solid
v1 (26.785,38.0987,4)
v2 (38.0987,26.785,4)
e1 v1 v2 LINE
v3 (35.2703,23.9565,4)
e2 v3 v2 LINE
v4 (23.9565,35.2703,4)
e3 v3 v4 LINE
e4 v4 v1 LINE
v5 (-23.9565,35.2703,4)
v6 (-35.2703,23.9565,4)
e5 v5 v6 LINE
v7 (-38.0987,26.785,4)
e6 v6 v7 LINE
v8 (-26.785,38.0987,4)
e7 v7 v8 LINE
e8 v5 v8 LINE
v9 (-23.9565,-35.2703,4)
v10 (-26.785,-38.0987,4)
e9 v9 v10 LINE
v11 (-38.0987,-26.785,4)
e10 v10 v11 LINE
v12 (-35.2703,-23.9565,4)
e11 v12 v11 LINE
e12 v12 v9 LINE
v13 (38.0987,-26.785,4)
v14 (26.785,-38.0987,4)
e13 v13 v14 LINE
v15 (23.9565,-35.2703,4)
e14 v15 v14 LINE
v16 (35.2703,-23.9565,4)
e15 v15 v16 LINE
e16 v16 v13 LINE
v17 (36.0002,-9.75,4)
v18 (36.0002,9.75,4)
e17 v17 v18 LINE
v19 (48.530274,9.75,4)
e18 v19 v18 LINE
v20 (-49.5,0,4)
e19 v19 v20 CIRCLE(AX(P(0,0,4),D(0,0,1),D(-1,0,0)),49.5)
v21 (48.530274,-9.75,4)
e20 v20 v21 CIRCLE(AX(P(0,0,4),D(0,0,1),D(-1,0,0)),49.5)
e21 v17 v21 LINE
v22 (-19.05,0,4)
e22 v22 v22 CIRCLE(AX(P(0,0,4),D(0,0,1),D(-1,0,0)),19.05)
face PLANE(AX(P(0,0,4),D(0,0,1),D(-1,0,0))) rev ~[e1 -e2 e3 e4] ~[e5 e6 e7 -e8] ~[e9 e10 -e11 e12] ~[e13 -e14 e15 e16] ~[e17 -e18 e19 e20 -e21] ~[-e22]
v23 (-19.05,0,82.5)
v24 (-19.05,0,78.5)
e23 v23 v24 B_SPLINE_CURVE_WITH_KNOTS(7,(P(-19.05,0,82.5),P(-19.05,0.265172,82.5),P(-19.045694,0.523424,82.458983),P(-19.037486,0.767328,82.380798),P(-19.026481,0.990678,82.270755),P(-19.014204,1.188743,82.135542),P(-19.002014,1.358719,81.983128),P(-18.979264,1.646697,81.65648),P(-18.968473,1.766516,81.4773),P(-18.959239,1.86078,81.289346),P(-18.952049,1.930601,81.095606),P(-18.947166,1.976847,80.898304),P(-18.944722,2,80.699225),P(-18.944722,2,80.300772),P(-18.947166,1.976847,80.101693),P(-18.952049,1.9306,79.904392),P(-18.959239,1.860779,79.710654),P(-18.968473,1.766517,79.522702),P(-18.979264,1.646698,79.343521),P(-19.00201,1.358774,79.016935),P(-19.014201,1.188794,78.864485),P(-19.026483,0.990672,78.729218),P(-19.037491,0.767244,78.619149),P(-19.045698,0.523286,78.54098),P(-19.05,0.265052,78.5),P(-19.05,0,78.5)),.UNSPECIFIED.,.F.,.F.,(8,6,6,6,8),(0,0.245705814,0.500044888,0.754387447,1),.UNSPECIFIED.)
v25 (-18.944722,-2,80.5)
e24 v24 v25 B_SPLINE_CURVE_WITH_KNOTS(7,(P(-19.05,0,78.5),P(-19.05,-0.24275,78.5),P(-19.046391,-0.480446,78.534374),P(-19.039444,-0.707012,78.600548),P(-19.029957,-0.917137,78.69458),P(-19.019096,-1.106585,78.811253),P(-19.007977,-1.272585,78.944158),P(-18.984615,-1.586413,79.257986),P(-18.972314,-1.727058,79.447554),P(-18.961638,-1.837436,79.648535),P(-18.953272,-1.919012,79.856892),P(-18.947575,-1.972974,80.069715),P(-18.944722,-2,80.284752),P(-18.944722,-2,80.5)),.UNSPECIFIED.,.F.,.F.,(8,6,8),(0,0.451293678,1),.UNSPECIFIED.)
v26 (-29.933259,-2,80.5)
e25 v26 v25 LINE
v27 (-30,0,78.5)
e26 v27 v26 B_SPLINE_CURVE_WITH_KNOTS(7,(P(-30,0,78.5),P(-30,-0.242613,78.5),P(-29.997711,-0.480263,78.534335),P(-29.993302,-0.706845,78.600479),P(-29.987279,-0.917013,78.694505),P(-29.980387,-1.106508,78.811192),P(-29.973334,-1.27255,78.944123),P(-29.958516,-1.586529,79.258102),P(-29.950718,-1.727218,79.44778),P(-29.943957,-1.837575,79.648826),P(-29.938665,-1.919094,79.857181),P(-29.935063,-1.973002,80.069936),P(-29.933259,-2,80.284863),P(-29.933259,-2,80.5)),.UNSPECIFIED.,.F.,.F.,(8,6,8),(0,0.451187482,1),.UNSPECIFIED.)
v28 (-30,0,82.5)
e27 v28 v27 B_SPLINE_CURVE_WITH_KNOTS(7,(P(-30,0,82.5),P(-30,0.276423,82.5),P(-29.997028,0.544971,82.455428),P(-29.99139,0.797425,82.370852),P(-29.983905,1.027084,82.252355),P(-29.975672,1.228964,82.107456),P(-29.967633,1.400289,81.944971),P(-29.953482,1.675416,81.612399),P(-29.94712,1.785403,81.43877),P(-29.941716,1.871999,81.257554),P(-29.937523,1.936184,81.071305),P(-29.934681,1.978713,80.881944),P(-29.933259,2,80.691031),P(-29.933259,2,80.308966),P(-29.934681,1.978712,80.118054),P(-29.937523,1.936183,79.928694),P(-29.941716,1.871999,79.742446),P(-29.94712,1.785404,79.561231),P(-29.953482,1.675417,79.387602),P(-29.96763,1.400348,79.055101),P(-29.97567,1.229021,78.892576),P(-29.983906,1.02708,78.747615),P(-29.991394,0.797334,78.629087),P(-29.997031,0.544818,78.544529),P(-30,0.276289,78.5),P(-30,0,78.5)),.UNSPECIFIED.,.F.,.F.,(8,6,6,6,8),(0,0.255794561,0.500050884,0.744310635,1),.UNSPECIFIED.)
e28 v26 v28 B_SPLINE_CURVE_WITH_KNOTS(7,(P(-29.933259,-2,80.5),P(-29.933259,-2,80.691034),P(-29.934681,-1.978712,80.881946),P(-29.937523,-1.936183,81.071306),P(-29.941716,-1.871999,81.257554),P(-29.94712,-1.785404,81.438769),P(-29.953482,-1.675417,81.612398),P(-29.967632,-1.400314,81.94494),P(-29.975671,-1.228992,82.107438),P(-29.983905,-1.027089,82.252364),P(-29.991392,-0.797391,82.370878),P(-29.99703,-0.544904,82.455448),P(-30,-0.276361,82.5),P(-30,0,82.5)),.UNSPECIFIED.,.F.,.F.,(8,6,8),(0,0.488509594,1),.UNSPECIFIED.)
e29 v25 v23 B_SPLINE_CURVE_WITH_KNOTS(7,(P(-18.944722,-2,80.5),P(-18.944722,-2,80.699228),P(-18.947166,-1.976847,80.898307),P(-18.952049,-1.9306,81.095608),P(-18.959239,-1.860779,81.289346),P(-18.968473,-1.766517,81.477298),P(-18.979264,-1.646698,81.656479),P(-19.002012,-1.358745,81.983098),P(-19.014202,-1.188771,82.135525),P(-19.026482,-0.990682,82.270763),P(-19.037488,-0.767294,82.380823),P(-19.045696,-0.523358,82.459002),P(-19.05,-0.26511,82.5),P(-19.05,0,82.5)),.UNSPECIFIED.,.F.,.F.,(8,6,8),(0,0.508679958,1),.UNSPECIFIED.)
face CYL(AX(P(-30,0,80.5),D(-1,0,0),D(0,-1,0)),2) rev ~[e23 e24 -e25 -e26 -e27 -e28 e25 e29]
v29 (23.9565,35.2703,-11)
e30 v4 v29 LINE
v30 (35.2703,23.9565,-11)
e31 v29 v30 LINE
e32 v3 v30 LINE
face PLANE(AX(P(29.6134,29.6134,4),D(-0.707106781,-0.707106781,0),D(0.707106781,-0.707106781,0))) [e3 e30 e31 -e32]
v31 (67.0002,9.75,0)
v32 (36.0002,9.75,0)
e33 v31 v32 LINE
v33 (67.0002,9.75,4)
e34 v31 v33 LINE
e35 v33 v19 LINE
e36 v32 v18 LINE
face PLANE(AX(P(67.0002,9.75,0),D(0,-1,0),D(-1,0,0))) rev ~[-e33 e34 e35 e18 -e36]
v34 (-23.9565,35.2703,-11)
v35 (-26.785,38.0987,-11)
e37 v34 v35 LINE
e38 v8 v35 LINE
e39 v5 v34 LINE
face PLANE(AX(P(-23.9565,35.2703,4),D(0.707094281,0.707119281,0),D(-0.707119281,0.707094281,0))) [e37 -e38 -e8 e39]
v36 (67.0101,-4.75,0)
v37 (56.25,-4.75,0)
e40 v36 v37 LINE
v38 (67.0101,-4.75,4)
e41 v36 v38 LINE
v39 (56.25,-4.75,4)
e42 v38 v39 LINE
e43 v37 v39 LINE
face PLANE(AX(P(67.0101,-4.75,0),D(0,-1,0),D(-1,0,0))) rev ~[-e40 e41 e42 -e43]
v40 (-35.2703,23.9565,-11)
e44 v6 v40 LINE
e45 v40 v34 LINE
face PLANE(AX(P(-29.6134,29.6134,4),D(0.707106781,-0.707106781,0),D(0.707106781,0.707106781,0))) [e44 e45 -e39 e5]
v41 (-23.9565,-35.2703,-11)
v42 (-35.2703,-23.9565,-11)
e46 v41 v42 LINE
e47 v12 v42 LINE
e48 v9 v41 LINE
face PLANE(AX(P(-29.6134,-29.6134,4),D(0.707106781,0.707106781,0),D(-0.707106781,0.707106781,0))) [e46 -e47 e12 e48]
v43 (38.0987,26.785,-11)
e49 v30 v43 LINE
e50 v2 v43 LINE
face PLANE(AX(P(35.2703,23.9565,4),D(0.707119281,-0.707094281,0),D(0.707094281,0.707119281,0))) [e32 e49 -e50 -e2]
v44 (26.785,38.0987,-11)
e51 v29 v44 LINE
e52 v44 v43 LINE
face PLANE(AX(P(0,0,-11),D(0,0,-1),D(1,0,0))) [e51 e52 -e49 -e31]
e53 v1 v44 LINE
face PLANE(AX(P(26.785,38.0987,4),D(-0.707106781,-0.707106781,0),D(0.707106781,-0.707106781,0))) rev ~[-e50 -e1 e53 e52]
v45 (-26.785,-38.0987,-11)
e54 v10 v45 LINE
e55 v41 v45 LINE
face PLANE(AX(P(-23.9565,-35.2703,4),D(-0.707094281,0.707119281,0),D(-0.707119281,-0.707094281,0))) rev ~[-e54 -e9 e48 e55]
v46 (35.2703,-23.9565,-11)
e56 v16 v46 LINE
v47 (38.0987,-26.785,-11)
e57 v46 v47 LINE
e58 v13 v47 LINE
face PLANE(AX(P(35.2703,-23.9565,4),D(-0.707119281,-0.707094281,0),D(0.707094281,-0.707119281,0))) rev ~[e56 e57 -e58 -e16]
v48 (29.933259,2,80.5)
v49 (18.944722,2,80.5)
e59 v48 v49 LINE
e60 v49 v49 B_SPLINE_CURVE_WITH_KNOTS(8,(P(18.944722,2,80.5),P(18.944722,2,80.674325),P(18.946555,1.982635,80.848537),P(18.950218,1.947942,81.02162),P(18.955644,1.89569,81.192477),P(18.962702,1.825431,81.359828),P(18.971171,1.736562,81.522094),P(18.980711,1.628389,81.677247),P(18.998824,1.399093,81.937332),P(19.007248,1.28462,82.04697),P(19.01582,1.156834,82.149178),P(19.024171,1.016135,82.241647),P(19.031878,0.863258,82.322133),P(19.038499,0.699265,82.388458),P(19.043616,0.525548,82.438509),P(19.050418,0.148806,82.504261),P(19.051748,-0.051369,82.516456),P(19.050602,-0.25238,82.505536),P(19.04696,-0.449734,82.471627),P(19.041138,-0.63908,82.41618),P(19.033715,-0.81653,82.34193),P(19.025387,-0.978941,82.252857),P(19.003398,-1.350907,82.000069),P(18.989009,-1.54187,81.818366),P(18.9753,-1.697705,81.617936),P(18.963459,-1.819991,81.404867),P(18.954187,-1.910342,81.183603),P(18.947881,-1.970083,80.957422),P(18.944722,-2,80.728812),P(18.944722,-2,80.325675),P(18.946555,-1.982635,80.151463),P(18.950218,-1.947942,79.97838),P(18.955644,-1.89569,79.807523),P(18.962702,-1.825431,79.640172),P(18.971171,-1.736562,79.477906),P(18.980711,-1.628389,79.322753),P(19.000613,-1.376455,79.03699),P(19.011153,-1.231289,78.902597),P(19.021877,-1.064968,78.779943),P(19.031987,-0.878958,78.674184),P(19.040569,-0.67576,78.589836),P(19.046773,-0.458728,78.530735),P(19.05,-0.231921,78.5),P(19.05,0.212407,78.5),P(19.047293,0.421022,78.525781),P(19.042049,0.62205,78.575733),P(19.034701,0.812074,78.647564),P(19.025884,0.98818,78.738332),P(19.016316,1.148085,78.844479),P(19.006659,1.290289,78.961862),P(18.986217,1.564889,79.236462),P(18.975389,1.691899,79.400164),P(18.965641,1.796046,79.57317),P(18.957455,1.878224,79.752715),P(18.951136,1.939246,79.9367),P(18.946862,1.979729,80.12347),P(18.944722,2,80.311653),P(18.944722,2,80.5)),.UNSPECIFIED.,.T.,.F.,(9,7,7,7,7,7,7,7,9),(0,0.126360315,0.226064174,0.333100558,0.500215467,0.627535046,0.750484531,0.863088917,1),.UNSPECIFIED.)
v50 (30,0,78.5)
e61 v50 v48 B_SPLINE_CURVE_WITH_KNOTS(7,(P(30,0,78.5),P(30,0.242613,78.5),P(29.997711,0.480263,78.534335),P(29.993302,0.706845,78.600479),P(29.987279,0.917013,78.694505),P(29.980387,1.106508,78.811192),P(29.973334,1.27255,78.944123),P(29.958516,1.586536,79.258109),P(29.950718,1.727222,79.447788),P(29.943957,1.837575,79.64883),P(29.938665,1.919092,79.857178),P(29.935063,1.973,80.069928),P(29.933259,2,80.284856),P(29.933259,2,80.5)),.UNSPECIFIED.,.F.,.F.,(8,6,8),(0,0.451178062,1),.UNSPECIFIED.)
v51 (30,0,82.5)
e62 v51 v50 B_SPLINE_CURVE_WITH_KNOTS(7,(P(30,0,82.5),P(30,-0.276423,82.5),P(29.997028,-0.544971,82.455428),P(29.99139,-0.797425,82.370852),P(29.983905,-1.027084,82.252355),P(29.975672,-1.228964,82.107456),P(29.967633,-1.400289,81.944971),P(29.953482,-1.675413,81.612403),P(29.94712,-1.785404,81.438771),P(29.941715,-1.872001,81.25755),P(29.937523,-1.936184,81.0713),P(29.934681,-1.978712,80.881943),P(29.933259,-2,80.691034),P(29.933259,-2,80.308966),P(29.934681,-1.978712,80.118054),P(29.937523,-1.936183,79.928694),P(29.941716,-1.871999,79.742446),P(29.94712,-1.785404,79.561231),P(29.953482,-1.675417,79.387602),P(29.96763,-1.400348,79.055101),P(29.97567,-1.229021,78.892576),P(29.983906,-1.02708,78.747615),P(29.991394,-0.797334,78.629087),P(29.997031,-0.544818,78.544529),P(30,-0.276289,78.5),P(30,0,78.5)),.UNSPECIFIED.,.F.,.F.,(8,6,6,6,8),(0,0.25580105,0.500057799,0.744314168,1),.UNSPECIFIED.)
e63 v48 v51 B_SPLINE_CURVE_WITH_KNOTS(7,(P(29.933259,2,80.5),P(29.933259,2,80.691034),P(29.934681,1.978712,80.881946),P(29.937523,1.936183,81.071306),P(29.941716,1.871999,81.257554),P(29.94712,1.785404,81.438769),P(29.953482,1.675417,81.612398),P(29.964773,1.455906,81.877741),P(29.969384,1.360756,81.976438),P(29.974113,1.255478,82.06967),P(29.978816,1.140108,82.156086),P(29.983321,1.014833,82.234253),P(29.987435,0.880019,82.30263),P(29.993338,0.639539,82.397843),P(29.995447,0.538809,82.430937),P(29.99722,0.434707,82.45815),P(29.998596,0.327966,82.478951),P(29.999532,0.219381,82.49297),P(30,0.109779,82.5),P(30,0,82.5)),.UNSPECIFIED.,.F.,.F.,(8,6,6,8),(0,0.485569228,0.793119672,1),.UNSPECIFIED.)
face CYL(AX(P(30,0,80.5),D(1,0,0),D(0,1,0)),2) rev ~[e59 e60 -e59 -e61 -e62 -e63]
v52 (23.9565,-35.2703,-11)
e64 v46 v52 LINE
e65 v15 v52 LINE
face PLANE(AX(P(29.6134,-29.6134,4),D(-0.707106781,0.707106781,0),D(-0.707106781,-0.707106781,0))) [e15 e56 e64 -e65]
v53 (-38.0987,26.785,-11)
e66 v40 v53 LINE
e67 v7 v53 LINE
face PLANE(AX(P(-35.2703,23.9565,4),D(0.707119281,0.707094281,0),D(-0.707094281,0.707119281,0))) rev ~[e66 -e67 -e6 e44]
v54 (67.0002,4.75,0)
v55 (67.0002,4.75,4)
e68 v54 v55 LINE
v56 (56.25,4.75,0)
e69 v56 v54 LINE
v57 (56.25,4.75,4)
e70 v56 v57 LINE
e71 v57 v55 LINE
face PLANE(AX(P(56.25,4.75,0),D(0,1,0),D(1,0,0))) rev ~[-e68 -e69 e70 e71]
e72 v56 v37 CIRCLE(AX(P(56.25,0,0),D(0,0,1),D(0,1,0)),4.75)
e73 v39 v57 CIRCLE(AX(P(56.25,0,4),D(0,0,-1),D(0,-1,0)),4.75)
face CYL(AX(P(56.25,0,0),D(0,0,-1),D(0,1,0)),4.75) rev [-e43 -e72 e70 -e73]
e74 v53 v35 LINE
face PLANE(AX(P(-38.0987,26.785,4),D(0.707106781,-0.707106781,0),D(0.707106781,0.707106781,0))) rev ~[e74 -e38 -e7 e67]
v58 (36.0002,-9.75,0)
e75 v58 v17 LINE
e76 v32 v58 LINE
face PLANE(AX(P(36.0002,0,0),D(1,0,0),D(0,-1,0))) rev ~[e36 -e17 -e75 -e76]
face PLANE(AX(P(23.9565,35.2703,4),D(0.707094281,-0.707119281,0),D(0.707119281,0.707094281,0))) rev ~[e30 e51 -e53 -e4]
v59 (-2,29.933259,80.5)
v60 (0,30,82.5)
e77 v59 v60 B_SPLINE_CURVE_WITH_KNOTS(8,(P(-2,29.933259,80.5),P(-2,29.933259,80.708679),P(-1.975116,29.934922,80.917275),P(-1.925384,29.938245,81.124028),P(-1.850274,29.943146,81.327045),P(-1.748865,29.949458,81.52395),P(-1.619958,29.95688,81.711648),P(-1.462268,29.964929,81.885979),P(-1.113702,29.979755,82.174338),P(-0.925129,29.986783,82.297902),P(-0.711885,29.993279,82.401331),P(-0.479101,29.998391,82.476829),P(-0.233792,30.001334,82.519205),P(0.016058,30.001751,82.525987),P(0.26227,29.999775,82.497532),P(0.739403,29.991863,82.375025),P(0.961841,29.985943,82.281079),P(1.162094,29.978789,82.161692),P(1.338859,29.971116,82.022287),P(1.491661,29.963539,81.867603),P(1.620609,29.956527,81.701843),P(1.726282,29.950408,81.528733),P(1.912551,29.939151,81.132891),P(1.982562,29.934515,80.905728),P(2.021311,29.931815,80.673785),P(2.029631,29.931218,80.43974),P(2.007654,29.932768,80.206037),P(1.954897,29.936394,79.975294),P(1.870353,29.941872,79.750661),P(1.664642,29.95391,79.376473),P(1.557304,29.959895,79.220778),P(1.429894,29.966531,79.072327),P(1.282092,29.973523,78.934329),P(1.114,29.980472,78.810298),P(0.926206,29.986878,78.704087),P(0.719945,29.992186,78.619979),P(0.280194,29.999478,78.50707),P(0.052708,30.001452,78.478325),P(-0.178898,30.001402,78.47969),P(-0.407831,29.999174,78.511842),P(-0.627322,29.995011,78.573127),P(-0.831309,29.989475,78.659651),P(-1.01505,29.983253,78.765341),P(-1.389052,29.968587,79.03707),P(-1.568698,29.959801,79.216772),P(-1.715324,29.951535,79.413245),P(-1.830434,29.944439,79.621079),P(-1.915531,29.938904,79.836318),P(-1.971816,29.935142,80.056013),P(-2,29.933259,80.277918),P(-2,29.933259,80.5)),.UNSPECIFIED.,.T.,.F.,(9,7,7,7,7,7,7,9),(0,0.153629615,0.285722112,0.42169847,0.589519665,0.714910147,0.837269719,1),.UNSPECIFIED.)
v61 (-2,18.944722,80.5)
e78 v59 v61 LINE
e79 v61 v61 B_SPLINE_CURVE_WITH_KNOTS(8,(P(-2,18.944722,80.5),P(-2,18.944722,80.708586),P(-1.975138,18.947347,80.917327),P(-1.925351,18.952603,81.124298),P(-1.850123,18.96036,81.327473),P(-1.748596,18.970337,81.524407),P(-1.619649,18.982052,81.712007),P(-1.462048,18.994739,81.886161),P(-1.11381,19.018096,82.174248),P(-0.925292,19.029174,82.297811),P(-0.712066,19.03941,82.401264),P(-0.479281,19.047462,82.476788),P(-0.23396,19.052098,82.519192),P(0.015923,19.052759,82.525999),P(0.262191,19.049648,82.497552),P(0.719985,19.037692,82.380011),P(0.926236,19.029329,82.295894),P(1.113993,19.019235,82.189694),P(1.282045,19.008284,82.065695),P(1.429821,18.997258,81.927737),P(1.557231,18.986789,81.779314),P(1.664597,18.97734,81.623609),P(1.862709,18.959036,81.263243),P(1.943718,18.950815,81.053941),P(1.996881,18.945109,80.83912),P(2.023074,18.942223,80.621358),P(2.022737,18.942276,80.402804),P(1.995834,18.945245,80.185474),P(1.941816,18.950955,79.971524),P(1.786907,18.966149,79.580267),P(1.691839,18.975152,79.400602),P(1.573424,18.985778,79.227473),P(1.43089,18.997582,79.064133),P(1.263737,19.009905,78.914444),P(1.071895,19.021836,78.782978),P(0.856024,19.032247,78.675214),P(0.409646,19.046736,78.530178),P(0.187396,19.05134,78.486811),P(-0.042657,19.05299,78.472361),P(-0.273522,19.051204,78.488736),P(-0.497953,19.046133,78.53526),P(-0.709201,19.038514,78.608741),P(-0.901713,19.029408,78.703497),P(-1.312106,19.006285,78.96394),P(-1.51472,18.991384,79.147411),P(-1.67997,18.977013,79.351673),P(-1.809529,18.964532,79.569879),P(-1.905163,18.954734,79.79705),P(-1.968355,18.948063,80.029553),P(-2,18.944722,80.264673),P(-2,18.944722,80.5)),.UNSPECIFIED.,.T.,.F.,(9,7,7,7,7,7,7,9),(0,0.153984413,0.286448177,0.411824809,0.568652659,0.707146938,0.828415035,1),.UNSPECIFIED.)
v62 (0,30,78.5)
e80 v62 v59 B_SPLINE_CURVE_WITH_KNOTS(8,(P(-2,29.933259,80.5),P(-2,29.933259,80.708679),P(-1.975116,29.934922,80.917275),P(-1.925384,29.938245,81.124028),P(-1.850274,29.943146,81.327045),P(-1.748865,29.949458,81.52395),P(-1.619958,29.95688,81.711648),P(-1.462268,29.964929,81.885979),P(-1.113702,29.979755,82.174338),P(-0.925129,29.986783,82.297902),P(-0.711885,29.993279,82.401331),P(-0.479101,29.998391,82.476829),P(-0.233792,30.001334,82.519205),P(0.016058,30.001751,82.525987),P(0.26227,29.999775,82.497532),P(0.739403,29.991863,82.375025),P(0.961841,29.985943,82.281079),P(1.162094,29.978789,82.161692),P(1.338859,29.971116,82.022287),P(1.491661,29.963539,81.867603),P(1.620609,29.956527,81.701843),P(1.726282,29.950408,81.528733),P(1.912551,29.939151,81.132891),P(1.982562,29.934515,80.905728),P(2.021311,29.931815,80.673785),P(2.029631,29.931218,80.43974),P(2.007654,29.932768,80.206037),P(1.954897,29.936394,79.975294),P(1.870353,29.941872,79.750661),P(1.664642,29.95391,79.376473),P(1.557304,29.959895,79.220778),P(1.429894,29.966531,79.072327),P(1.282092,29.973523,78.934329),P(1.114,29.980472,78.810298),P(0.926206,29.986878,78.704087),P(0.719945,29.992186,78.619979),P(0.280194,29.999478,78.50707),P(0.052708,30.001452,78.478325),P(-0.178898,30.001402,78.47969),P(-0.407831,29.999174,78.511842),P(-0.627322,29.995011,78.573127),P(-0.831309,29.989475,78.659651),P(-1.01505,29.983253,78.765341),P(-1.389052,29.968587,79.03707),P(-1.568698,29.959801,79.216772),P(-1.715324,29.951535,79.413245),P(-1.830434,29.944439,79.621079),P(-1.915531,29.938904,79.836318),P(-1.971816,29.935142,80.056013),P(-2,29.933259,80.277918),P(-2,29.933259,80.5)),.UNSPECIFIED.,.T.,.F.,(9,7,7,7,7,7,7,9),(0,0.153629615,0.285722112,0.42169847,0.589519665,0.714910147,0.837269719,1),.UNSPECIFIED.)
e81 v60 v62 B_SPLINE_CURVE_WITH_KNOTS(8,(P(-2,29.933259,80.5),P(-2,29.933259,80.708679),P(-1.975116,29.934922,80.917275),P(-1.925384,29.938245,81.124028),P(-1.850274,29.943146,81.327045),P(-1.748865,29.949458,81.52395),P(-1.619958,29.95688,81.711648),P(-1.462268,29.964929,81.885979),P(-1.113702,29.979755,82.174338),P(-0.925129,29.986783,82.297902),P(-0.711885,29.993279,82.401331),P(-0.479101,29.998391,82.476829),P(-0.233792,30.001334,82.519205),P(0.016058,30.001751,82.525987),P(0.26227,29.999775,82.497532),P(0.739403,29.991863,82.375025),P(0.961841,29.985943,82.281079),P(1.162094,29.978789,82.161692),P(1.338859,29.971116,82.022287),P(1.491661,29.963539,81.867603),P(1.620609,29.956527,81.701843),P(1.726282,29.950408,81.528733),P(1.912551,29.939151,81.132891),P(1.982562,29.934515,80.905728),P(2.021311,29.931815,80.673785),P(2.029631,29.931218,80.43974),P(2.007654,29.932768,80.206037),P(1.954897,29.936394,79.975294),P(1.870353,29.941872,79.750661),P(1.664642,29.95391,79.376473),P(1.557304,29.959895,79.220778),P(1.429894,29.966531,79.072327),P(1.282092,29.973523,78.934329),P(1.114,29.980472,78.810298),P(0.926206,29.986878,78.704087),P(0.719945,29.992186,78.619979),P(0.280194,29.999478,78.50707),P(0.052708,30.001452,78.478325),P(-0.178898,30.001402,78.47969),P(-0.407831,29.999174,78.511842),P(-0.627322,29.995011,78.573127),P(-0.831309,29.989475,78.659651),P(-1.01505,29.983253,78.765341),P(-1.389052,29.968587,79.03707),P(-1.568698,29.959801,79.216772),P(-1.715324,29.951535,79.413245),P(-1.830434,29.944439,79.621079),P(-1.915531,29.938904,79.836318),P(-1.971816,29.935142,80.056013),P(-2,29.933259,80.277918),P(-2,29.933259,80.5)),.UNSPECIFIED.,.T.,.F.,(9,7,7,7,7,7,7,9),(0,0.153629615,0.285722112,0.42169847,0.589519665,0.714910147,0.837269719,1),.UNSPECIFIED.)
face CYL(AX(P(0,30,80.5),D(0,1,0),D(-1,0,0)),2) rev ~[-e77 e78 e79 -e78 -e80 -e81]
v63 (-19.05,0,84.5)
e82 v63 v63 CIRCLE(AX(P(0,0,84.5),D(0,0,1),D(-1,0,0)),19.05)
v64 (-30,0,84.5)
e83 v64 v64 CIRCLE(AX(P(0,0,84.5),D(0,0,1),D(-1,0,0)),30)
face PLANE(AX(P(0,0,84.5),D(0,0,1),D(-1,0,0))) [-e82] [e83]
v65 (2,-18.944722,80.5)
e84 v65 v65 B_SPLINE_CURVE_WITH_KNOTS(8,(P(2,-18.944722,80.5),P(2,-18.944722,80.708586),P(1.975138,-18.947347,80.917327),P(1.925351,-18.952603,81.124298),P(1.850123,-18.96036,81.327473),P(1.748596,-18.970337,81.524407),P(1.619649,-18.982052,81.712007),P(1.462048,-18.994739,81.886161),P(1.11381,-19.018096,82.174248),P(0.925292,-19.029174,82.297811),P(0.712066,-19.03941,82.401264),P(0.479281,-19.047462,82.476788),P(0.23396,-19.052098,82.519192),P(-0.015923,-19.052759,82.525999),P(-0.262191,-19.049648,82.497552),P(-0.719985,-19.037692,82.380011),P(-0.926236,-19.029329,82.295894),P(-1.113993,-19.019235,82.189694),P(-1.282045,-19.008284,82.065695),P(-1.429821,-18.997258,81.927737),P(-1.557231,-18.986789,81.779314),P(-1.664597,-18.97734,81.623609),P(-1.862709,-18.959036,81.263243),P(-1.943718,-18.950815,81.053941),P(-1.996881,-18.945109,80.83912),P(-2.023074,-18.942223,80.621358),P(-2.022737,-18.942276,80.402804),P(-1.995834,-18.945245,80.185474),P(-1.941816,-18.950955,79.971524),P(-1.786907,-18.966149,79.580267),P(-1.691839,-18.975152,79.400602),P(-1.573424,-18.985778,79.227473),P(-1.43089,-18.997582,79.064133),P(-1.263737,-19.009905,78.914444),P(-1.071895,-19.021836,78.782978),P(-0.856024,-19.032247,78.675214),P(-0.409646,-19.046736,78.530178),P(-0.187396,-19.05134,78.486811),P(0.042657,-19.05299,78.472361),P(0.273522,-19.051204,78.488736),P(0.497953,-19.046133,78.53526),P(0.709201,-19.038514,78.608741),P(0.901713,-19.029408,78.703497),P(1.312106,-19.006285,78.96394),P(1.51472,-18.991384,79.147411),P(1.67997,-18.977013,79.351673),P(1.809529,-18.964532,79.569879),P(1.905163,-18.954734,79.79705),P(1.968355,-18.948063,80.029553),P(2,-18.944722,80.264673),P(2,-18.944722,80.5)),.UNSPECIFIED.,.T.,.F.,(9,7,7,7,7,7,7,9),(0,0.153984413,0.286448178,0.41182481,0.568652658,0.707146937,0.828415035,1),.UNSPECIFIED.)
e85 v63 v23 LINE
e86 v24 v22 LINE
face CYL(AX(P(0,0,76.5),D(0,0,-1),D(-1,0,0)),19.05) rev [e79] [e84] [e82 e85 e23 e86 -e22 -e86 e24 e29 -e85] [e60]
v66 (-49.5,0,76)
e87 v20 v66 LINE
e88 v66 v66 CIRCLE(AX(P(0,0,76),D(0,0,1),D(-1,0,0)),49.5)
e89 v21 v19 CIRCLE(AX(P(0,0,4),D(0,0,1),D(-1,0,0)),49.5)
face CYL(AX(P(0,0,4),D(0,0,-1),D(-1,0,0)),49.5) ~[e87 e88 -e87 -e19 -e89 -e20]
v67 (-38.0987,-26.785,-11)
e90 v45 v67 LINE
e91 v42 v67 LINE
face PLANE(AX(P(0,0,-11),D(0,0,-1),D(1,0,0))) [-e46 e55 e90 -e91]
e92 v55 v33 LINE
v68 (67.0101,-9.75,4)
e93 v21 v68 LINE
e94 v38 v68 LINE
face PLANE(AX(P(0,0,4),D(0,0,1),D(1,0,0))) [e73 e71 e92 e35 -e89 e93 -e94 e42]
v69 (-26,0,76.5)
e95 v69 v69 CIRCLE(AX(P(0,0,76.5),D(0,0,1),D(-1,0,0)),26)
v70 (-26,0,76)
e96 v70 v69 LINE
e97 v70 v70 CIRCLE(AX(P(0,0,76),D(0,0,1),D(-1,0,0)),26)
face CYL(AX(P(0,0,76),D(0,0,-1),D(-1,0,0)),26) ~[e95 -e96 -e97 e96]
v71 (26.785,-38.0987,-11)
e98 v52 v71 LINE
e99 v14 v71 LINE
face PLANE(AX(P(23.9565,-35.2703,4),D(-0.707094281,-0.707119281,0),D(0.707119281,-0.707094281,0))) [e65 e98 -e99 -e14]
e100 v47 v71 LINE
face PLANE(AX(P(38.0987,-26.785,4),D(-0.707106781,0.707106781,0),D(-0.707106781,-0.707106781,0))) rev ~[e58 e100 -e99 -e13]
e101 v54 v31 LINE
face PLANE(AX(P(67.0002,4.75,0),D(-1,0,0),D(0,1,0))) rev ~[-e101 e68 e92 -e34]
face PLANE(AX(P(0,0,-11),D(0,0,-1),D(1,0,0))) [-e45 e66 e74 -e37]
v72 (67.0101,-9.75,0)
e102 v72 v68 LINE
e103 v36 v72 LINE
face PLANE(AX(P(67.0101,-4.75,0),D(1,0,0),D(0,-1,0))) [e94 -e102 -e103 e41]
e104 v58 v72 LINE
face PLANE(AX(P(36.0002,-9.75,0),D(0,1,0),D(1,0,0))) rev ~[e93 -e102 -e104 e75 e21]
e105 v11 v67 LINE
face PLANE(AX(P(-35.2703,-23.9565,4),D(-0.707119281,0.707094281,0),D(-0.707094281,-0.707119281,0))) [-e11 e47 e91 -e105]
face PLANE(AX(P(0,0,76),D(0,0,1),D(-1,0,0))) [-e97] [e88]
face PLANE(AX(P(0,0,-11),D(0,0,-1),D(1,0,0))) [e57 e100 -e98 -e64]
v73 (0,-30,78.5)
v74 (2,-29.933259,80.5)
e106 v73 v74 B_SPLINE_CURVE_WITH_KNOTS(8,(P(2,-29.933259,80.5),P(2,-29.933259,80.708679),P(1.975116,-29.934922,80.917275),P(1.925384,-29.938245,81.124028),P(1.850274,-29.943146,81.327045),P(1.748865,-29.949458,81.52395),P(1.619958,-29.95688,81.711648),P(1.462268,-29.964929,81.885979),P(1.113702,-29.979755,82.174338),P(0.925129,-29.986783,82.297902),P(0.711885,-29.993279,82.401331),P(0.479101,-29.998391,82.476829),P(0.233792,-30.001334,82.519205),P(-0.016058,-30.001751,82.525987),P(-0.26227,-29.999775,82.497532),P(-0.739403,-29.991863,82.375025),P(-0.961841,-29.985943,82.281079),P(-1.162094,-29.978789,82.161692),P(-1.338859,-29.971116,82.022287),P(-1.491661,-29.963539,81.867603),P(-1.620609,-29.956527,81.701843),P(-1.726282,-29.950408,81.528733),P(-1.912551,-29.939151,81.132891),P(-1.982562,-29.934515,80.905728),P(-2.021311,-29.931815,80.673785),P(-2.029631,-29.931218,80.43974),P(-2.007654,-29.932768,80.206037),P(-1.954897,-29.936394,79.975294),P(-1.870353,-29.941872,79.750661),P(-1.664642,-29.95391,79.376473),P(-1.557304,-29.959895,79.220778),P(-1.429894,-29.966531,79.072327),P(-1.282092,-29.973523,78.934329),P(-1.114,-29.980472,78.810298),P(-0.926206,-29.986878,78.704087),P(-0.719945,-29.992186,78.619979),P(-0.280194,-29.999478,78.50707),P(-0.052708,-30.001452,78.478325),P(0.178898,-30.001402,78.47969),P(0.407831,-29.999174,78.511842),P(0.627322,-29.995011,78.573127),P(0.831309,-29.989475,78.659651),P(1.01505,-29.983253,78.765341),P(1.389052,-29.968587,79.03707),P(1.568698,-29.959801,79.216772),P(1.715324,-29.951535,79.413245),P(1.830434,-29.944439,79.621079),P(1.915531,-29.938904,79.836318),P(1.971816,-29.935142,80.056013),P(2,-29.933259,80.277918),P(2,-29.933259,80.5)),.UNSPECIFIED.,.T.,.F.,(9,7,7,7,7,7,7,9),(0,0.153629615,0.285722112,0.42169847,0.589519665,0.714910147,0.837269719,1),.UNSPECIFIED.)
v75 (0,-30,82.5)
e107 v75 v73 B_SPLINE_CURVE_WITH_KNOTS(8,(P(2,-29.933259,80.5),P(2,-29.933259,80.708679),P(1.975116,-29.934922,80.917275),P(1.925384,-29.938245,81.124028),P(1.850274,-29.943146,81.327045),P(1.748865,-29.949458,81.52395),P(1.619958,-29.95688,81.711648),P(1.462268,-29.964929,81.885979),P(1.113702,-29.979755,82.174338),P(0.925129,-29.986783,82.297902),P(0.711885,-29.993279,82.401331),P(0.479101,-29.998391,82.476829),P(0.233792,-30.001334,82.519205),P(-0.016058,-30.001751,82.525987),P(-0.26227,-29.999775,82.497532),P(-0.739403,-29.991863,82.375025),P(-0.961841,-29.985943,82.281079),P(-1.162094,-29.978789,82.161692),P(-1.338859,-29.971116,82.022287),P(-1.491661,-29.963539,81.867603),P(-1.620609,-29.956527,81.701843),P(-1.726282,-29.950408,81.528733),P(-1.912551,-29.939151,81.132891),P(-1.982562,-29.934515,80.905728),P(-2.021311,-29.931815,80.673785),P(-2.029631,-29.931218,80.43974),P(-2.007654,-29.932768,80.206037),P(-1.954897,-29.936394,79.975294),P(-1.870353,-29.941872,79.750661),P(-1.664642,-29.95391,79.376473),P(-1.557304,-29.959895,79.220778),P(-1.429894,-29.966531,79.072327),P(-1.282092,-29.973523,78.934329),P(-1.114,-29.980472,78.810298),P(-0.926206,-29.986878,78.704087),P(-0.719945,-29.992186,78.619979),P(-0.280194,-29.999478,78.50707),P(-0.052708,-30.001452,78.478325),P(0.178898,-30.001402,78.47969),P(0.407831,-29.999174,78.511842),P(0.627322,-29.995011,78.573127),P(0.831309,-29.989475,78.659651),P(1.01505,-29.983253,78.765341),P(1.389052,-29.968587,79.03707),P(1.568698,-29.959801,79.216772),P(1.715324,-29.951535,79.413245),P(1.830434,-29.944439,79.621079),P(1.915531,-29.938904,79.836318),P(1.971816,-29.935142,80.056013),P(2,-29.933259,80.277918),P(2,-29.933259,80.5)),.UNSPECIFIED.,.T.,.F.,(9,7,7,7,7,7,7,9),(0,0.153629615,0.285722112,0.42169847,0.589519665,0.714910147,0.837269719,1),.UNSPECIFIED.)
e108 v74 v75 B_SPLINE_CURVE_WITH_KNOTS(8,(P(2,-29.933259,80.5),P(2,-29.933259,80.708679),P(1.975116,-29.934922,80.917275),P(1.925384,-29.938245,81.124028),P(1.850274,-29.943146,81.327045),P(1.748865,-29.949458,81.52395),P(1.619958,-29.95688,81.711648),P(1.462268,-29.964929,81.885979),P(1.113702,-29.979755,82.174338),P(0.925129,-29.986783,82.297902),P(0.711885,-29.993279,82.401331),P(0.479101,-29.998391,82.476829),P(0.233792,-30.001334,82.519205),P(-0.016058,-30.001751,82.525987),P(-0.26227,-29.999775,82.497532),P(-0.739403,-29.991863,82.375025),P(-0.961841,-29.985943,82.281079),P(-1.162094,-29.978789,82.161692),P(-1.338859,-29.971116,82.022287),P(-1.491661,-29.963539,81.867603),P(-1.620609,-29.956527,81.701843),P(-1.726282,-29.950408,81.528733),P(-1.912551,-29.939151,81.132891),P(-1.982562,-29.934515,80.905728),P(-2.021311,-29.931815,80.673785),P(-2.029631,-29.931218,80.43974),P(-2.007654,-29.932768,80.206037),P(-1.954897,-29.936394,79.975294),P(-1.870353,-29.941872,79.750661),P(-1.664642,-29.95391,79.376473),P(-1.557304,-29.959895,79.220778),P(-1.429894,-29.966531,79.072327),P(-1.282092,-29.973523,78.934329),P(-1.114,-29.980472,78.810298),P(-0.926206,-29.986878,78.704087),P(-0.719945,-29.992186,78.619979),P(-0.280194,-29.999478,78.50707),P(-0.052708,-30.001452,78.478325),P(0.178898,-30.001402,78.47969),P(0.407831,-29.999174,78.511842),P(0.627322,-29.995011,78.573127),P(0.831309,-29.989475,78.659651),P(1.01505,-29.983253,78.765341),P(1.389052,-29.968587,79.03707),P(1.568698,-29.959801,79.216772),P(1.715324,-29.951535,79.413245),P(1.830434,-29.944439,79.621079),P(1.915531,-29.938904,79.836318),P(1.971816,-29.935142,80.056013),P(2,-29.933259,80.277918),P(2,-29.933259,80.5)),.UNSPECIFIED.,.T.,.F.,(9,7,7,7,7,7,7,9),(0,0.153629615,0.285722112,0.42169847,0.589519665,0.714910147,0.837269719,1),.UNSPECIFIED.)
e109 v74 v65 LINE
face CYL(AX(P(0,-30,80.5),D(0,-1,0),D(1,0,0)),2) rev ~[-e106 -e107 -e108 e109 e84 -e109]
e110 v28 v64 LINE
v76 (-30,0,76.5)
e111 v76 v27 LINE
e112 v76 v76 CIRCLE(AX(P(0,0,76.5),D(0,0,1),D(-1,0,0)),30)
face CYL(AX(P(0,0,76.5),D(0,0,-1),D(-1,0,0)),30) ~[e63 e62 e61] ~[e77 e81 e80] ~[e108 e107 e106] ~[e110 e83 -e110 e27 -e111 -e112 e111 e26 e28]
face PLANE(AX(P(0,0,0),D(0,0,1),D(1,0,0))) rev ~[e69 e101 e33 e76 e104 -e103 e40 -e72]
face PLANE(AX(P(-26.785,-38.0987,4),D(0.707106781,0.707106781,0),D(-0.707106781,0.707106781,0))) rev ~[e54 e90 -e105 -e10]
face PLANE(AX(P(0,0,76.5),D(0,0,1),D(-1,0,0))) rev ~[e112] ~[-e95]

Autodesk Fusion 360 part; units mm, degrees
sketch "Sketch1" plane through (0, 0, 0) normal (0, 0, 1) x (1, 0, 0)
  line L0 (36.0002, -9.75) -> (67.0101, -9.75)
  line L1 (67.0002, 9.75) -> (36.0002, 9.75)
  line L2 (67.0101, -4.75) -> (56.25, -4.75)
  arc A0 (56.25, 4.75) -> (51.5, 0) centre (56.25, 0) ccw
  line L3 (67.0101, -4.75) -> (67.0101, -9.75)
  line L4 (36.0002, 9.75) -> (36.0002, -9.75)
  arc A1 (51.5, 0) -> (56.25, -4.75) centre (56.25, 0) ccw
  line L5 (56.25, 4.75) -> (67.0002, 4.75)
  line L6 (67.0002, 4.75) -> (67.0002, 9.75)
  line L7 (0, 0) -> (36.0002, 0)
  point P0 (51.5001, 4.75)
  dimension "d7" = 4.75
  dimension "d8" = 4.75
  dimension "d9" = 4.75
  dimension "d10" = 31
  dimension "d11" = 19.5
extrude "Extrude1" add sketch "Sketch1" along normal blind 4
sketch "Sketch2" plane through (0, 0, 4) normal (0, 0, 1) x (-1, 0, 0)
  line L0 (-56.25, -4.75) -> (-67.0002, -4.75)
  line L1 (-67.0002, -4.75) -> (-67.0002, -9.75)
  line L2 (-67.0101, 9.75) -> (-67.0101, 4.75)
  line L3 (-67.0101, 4.75) -> (-56.25, 4.75)
  arc A0 (-51.5, 0) -> (-56.25, 4.75) centre (-56.25, 0) ccw
  arc A1 (-56.25, -4.75) -> (-51.5, 0) centre (-56.25, 0) ccw
  circle A2 centre (0, 0) radius 49.5
  circle A3 centre (0, 0) radius 19.05
  dimension "d14" = 99
  dimension "d15" = 38.1
extrude "Extrude2" add sketch "Sketch2" along normal blind 72
sketch "Sketch3" plane through (0, 0, 76) normal (0, 0, 1) x (-1, 0, 0)
  circle A0 centre (0, 0) radius 19.05
  circle A1 centre (0, 0) radius 49.5
  circle A2 centre (0, 0) radius 19.05
  circle A3 centre (0, 0) radius 26
extrude "Extrude3" add sketch "Sketch3" along normal blind 0.5 contours A3
sketch "Sketch4" plane through (0, 0, 4) normal (0, 0, -1) x (1, 0, 0)
  line L0 (36.0002, 9.75) -> (48.5303, 9.75)
  arc A0 (48.5303, 9.75) -> (48.5303, -9.75) centre (0, 0) ccw
  line L1 (48.5303, -9.75) -> (36.0002, -9.75)
  line L2 (36.0002, -9.75) -> (36.0002, 9.75)
  circle A1 centre (0, 0) radius 19.05
  line L3 (0, 0) -> (39.0512, 0) construction
  line L4 (29.6134, 29.6134) -> (23.9565, 35.2703)
  line L5 (29.6134, 29.6134) -> (35.2703, 23.9565)
  line L6 (23.9565, 35.2703) -> (26.785, 38.0987)
  line L7 (35.2703, 23.9565) -> (38.0987, 26.785)
  line L8 (38.0987, 26.785) -> (26.785, 38.0987)
  line L9 (-29.6134, 29.6134) -> (-35.2703, 23.9565)
  line L10 (-35.2703, 23.9565) -> (-38.0987, 26.785)
  line L11 (-26.785, 38.0987) -> (-38.0987, 26.785)
  line L12 (-23.9565, 35.2703) -> (-26.785, 38.0987)
  line L13 (-29.6134, 29.6134) -> (-23.9565, 35.2703)
  line L14 (-29.6134, -29.6134) -> (-23.9565, -35.2703)
  line L15 (-23.9565, -35.2703) -> (-26.785, -38.0987)
  line L16 (-38.0987, -26.785) -> (-26.785, -38.0987)
  line L17 (-35.2703, -23.9565) -> (-38.0987, -26.785)
  line L18 (-29.6134, -29.6134) -> (-35.2703, -23.9565)
  line L19 (29.6134, -29.6134) -> (35.2703, -23.9565)
  line L20 (35.2703, -23.9565) -> (38.0987, -26.785)
  line L21 (26.785, -38.0987) -> (38.0987, -26.785)
  line L22 (23.9565, -35.2703) -> (26.785, -38.0987)
  line L23 (29.6134, -29.6134) -> (23.9565, -35.2703)
  dimension "d24" = 8
  dimension "d25" = 8
  dimension "d28" = 360
extrude "Extrude4" add sketch "Sketch4" along normal blind 15 contours L4 L5 L6 L7 L8 | L9 L10 L11 L12 L13 | L14 L15 L16 L17 L18 | L19 L20 L21 L22 L23
sketch "Sketch5" plane through (0, 0, 76.5) normal (0, 0, 1) x (-1, 0, 0)
  circle A0 centre (0, 0) radius 19.05
  circle A1 centre (0, 0) radius 30
  circle A2 centre (0, 0) radius 19.05
  dimension "d31" = 60
extrude "Extrude5" add sketch "Sketch5" along normal blind 8
ref_plane "WorkPlane1" through (30, 0, 80.0207) normal (1, 0, 0) x (0, -1, 0)
sketch "Sketch6" plane through (30, 0, 0) normal (1, 0, 0) x (0, 1, 0)
  circle A0 centre (0, 80.5) radius 2
  dimension "d35" = 4
extrude "Extrude6" cut sketch "Sketch6" against normal blind 15.5
pattern_circular "C-Pattern1" count 4 over 360 about axis through (0, 0, 4) along (0, 0, 1) of "Extrude6"
equation "rotary_connect_length = 72 mm"
equation "d17 = rotary_connect_length"
equation "rotary_connect_space = 0.5 mm"
equation "rotary_connect_rotor_size = 8.5 mm"
equation "d21 = rotary_connect_space"
equation "d32 = rotary_connect_rotor_size - rotary_connect_space"
